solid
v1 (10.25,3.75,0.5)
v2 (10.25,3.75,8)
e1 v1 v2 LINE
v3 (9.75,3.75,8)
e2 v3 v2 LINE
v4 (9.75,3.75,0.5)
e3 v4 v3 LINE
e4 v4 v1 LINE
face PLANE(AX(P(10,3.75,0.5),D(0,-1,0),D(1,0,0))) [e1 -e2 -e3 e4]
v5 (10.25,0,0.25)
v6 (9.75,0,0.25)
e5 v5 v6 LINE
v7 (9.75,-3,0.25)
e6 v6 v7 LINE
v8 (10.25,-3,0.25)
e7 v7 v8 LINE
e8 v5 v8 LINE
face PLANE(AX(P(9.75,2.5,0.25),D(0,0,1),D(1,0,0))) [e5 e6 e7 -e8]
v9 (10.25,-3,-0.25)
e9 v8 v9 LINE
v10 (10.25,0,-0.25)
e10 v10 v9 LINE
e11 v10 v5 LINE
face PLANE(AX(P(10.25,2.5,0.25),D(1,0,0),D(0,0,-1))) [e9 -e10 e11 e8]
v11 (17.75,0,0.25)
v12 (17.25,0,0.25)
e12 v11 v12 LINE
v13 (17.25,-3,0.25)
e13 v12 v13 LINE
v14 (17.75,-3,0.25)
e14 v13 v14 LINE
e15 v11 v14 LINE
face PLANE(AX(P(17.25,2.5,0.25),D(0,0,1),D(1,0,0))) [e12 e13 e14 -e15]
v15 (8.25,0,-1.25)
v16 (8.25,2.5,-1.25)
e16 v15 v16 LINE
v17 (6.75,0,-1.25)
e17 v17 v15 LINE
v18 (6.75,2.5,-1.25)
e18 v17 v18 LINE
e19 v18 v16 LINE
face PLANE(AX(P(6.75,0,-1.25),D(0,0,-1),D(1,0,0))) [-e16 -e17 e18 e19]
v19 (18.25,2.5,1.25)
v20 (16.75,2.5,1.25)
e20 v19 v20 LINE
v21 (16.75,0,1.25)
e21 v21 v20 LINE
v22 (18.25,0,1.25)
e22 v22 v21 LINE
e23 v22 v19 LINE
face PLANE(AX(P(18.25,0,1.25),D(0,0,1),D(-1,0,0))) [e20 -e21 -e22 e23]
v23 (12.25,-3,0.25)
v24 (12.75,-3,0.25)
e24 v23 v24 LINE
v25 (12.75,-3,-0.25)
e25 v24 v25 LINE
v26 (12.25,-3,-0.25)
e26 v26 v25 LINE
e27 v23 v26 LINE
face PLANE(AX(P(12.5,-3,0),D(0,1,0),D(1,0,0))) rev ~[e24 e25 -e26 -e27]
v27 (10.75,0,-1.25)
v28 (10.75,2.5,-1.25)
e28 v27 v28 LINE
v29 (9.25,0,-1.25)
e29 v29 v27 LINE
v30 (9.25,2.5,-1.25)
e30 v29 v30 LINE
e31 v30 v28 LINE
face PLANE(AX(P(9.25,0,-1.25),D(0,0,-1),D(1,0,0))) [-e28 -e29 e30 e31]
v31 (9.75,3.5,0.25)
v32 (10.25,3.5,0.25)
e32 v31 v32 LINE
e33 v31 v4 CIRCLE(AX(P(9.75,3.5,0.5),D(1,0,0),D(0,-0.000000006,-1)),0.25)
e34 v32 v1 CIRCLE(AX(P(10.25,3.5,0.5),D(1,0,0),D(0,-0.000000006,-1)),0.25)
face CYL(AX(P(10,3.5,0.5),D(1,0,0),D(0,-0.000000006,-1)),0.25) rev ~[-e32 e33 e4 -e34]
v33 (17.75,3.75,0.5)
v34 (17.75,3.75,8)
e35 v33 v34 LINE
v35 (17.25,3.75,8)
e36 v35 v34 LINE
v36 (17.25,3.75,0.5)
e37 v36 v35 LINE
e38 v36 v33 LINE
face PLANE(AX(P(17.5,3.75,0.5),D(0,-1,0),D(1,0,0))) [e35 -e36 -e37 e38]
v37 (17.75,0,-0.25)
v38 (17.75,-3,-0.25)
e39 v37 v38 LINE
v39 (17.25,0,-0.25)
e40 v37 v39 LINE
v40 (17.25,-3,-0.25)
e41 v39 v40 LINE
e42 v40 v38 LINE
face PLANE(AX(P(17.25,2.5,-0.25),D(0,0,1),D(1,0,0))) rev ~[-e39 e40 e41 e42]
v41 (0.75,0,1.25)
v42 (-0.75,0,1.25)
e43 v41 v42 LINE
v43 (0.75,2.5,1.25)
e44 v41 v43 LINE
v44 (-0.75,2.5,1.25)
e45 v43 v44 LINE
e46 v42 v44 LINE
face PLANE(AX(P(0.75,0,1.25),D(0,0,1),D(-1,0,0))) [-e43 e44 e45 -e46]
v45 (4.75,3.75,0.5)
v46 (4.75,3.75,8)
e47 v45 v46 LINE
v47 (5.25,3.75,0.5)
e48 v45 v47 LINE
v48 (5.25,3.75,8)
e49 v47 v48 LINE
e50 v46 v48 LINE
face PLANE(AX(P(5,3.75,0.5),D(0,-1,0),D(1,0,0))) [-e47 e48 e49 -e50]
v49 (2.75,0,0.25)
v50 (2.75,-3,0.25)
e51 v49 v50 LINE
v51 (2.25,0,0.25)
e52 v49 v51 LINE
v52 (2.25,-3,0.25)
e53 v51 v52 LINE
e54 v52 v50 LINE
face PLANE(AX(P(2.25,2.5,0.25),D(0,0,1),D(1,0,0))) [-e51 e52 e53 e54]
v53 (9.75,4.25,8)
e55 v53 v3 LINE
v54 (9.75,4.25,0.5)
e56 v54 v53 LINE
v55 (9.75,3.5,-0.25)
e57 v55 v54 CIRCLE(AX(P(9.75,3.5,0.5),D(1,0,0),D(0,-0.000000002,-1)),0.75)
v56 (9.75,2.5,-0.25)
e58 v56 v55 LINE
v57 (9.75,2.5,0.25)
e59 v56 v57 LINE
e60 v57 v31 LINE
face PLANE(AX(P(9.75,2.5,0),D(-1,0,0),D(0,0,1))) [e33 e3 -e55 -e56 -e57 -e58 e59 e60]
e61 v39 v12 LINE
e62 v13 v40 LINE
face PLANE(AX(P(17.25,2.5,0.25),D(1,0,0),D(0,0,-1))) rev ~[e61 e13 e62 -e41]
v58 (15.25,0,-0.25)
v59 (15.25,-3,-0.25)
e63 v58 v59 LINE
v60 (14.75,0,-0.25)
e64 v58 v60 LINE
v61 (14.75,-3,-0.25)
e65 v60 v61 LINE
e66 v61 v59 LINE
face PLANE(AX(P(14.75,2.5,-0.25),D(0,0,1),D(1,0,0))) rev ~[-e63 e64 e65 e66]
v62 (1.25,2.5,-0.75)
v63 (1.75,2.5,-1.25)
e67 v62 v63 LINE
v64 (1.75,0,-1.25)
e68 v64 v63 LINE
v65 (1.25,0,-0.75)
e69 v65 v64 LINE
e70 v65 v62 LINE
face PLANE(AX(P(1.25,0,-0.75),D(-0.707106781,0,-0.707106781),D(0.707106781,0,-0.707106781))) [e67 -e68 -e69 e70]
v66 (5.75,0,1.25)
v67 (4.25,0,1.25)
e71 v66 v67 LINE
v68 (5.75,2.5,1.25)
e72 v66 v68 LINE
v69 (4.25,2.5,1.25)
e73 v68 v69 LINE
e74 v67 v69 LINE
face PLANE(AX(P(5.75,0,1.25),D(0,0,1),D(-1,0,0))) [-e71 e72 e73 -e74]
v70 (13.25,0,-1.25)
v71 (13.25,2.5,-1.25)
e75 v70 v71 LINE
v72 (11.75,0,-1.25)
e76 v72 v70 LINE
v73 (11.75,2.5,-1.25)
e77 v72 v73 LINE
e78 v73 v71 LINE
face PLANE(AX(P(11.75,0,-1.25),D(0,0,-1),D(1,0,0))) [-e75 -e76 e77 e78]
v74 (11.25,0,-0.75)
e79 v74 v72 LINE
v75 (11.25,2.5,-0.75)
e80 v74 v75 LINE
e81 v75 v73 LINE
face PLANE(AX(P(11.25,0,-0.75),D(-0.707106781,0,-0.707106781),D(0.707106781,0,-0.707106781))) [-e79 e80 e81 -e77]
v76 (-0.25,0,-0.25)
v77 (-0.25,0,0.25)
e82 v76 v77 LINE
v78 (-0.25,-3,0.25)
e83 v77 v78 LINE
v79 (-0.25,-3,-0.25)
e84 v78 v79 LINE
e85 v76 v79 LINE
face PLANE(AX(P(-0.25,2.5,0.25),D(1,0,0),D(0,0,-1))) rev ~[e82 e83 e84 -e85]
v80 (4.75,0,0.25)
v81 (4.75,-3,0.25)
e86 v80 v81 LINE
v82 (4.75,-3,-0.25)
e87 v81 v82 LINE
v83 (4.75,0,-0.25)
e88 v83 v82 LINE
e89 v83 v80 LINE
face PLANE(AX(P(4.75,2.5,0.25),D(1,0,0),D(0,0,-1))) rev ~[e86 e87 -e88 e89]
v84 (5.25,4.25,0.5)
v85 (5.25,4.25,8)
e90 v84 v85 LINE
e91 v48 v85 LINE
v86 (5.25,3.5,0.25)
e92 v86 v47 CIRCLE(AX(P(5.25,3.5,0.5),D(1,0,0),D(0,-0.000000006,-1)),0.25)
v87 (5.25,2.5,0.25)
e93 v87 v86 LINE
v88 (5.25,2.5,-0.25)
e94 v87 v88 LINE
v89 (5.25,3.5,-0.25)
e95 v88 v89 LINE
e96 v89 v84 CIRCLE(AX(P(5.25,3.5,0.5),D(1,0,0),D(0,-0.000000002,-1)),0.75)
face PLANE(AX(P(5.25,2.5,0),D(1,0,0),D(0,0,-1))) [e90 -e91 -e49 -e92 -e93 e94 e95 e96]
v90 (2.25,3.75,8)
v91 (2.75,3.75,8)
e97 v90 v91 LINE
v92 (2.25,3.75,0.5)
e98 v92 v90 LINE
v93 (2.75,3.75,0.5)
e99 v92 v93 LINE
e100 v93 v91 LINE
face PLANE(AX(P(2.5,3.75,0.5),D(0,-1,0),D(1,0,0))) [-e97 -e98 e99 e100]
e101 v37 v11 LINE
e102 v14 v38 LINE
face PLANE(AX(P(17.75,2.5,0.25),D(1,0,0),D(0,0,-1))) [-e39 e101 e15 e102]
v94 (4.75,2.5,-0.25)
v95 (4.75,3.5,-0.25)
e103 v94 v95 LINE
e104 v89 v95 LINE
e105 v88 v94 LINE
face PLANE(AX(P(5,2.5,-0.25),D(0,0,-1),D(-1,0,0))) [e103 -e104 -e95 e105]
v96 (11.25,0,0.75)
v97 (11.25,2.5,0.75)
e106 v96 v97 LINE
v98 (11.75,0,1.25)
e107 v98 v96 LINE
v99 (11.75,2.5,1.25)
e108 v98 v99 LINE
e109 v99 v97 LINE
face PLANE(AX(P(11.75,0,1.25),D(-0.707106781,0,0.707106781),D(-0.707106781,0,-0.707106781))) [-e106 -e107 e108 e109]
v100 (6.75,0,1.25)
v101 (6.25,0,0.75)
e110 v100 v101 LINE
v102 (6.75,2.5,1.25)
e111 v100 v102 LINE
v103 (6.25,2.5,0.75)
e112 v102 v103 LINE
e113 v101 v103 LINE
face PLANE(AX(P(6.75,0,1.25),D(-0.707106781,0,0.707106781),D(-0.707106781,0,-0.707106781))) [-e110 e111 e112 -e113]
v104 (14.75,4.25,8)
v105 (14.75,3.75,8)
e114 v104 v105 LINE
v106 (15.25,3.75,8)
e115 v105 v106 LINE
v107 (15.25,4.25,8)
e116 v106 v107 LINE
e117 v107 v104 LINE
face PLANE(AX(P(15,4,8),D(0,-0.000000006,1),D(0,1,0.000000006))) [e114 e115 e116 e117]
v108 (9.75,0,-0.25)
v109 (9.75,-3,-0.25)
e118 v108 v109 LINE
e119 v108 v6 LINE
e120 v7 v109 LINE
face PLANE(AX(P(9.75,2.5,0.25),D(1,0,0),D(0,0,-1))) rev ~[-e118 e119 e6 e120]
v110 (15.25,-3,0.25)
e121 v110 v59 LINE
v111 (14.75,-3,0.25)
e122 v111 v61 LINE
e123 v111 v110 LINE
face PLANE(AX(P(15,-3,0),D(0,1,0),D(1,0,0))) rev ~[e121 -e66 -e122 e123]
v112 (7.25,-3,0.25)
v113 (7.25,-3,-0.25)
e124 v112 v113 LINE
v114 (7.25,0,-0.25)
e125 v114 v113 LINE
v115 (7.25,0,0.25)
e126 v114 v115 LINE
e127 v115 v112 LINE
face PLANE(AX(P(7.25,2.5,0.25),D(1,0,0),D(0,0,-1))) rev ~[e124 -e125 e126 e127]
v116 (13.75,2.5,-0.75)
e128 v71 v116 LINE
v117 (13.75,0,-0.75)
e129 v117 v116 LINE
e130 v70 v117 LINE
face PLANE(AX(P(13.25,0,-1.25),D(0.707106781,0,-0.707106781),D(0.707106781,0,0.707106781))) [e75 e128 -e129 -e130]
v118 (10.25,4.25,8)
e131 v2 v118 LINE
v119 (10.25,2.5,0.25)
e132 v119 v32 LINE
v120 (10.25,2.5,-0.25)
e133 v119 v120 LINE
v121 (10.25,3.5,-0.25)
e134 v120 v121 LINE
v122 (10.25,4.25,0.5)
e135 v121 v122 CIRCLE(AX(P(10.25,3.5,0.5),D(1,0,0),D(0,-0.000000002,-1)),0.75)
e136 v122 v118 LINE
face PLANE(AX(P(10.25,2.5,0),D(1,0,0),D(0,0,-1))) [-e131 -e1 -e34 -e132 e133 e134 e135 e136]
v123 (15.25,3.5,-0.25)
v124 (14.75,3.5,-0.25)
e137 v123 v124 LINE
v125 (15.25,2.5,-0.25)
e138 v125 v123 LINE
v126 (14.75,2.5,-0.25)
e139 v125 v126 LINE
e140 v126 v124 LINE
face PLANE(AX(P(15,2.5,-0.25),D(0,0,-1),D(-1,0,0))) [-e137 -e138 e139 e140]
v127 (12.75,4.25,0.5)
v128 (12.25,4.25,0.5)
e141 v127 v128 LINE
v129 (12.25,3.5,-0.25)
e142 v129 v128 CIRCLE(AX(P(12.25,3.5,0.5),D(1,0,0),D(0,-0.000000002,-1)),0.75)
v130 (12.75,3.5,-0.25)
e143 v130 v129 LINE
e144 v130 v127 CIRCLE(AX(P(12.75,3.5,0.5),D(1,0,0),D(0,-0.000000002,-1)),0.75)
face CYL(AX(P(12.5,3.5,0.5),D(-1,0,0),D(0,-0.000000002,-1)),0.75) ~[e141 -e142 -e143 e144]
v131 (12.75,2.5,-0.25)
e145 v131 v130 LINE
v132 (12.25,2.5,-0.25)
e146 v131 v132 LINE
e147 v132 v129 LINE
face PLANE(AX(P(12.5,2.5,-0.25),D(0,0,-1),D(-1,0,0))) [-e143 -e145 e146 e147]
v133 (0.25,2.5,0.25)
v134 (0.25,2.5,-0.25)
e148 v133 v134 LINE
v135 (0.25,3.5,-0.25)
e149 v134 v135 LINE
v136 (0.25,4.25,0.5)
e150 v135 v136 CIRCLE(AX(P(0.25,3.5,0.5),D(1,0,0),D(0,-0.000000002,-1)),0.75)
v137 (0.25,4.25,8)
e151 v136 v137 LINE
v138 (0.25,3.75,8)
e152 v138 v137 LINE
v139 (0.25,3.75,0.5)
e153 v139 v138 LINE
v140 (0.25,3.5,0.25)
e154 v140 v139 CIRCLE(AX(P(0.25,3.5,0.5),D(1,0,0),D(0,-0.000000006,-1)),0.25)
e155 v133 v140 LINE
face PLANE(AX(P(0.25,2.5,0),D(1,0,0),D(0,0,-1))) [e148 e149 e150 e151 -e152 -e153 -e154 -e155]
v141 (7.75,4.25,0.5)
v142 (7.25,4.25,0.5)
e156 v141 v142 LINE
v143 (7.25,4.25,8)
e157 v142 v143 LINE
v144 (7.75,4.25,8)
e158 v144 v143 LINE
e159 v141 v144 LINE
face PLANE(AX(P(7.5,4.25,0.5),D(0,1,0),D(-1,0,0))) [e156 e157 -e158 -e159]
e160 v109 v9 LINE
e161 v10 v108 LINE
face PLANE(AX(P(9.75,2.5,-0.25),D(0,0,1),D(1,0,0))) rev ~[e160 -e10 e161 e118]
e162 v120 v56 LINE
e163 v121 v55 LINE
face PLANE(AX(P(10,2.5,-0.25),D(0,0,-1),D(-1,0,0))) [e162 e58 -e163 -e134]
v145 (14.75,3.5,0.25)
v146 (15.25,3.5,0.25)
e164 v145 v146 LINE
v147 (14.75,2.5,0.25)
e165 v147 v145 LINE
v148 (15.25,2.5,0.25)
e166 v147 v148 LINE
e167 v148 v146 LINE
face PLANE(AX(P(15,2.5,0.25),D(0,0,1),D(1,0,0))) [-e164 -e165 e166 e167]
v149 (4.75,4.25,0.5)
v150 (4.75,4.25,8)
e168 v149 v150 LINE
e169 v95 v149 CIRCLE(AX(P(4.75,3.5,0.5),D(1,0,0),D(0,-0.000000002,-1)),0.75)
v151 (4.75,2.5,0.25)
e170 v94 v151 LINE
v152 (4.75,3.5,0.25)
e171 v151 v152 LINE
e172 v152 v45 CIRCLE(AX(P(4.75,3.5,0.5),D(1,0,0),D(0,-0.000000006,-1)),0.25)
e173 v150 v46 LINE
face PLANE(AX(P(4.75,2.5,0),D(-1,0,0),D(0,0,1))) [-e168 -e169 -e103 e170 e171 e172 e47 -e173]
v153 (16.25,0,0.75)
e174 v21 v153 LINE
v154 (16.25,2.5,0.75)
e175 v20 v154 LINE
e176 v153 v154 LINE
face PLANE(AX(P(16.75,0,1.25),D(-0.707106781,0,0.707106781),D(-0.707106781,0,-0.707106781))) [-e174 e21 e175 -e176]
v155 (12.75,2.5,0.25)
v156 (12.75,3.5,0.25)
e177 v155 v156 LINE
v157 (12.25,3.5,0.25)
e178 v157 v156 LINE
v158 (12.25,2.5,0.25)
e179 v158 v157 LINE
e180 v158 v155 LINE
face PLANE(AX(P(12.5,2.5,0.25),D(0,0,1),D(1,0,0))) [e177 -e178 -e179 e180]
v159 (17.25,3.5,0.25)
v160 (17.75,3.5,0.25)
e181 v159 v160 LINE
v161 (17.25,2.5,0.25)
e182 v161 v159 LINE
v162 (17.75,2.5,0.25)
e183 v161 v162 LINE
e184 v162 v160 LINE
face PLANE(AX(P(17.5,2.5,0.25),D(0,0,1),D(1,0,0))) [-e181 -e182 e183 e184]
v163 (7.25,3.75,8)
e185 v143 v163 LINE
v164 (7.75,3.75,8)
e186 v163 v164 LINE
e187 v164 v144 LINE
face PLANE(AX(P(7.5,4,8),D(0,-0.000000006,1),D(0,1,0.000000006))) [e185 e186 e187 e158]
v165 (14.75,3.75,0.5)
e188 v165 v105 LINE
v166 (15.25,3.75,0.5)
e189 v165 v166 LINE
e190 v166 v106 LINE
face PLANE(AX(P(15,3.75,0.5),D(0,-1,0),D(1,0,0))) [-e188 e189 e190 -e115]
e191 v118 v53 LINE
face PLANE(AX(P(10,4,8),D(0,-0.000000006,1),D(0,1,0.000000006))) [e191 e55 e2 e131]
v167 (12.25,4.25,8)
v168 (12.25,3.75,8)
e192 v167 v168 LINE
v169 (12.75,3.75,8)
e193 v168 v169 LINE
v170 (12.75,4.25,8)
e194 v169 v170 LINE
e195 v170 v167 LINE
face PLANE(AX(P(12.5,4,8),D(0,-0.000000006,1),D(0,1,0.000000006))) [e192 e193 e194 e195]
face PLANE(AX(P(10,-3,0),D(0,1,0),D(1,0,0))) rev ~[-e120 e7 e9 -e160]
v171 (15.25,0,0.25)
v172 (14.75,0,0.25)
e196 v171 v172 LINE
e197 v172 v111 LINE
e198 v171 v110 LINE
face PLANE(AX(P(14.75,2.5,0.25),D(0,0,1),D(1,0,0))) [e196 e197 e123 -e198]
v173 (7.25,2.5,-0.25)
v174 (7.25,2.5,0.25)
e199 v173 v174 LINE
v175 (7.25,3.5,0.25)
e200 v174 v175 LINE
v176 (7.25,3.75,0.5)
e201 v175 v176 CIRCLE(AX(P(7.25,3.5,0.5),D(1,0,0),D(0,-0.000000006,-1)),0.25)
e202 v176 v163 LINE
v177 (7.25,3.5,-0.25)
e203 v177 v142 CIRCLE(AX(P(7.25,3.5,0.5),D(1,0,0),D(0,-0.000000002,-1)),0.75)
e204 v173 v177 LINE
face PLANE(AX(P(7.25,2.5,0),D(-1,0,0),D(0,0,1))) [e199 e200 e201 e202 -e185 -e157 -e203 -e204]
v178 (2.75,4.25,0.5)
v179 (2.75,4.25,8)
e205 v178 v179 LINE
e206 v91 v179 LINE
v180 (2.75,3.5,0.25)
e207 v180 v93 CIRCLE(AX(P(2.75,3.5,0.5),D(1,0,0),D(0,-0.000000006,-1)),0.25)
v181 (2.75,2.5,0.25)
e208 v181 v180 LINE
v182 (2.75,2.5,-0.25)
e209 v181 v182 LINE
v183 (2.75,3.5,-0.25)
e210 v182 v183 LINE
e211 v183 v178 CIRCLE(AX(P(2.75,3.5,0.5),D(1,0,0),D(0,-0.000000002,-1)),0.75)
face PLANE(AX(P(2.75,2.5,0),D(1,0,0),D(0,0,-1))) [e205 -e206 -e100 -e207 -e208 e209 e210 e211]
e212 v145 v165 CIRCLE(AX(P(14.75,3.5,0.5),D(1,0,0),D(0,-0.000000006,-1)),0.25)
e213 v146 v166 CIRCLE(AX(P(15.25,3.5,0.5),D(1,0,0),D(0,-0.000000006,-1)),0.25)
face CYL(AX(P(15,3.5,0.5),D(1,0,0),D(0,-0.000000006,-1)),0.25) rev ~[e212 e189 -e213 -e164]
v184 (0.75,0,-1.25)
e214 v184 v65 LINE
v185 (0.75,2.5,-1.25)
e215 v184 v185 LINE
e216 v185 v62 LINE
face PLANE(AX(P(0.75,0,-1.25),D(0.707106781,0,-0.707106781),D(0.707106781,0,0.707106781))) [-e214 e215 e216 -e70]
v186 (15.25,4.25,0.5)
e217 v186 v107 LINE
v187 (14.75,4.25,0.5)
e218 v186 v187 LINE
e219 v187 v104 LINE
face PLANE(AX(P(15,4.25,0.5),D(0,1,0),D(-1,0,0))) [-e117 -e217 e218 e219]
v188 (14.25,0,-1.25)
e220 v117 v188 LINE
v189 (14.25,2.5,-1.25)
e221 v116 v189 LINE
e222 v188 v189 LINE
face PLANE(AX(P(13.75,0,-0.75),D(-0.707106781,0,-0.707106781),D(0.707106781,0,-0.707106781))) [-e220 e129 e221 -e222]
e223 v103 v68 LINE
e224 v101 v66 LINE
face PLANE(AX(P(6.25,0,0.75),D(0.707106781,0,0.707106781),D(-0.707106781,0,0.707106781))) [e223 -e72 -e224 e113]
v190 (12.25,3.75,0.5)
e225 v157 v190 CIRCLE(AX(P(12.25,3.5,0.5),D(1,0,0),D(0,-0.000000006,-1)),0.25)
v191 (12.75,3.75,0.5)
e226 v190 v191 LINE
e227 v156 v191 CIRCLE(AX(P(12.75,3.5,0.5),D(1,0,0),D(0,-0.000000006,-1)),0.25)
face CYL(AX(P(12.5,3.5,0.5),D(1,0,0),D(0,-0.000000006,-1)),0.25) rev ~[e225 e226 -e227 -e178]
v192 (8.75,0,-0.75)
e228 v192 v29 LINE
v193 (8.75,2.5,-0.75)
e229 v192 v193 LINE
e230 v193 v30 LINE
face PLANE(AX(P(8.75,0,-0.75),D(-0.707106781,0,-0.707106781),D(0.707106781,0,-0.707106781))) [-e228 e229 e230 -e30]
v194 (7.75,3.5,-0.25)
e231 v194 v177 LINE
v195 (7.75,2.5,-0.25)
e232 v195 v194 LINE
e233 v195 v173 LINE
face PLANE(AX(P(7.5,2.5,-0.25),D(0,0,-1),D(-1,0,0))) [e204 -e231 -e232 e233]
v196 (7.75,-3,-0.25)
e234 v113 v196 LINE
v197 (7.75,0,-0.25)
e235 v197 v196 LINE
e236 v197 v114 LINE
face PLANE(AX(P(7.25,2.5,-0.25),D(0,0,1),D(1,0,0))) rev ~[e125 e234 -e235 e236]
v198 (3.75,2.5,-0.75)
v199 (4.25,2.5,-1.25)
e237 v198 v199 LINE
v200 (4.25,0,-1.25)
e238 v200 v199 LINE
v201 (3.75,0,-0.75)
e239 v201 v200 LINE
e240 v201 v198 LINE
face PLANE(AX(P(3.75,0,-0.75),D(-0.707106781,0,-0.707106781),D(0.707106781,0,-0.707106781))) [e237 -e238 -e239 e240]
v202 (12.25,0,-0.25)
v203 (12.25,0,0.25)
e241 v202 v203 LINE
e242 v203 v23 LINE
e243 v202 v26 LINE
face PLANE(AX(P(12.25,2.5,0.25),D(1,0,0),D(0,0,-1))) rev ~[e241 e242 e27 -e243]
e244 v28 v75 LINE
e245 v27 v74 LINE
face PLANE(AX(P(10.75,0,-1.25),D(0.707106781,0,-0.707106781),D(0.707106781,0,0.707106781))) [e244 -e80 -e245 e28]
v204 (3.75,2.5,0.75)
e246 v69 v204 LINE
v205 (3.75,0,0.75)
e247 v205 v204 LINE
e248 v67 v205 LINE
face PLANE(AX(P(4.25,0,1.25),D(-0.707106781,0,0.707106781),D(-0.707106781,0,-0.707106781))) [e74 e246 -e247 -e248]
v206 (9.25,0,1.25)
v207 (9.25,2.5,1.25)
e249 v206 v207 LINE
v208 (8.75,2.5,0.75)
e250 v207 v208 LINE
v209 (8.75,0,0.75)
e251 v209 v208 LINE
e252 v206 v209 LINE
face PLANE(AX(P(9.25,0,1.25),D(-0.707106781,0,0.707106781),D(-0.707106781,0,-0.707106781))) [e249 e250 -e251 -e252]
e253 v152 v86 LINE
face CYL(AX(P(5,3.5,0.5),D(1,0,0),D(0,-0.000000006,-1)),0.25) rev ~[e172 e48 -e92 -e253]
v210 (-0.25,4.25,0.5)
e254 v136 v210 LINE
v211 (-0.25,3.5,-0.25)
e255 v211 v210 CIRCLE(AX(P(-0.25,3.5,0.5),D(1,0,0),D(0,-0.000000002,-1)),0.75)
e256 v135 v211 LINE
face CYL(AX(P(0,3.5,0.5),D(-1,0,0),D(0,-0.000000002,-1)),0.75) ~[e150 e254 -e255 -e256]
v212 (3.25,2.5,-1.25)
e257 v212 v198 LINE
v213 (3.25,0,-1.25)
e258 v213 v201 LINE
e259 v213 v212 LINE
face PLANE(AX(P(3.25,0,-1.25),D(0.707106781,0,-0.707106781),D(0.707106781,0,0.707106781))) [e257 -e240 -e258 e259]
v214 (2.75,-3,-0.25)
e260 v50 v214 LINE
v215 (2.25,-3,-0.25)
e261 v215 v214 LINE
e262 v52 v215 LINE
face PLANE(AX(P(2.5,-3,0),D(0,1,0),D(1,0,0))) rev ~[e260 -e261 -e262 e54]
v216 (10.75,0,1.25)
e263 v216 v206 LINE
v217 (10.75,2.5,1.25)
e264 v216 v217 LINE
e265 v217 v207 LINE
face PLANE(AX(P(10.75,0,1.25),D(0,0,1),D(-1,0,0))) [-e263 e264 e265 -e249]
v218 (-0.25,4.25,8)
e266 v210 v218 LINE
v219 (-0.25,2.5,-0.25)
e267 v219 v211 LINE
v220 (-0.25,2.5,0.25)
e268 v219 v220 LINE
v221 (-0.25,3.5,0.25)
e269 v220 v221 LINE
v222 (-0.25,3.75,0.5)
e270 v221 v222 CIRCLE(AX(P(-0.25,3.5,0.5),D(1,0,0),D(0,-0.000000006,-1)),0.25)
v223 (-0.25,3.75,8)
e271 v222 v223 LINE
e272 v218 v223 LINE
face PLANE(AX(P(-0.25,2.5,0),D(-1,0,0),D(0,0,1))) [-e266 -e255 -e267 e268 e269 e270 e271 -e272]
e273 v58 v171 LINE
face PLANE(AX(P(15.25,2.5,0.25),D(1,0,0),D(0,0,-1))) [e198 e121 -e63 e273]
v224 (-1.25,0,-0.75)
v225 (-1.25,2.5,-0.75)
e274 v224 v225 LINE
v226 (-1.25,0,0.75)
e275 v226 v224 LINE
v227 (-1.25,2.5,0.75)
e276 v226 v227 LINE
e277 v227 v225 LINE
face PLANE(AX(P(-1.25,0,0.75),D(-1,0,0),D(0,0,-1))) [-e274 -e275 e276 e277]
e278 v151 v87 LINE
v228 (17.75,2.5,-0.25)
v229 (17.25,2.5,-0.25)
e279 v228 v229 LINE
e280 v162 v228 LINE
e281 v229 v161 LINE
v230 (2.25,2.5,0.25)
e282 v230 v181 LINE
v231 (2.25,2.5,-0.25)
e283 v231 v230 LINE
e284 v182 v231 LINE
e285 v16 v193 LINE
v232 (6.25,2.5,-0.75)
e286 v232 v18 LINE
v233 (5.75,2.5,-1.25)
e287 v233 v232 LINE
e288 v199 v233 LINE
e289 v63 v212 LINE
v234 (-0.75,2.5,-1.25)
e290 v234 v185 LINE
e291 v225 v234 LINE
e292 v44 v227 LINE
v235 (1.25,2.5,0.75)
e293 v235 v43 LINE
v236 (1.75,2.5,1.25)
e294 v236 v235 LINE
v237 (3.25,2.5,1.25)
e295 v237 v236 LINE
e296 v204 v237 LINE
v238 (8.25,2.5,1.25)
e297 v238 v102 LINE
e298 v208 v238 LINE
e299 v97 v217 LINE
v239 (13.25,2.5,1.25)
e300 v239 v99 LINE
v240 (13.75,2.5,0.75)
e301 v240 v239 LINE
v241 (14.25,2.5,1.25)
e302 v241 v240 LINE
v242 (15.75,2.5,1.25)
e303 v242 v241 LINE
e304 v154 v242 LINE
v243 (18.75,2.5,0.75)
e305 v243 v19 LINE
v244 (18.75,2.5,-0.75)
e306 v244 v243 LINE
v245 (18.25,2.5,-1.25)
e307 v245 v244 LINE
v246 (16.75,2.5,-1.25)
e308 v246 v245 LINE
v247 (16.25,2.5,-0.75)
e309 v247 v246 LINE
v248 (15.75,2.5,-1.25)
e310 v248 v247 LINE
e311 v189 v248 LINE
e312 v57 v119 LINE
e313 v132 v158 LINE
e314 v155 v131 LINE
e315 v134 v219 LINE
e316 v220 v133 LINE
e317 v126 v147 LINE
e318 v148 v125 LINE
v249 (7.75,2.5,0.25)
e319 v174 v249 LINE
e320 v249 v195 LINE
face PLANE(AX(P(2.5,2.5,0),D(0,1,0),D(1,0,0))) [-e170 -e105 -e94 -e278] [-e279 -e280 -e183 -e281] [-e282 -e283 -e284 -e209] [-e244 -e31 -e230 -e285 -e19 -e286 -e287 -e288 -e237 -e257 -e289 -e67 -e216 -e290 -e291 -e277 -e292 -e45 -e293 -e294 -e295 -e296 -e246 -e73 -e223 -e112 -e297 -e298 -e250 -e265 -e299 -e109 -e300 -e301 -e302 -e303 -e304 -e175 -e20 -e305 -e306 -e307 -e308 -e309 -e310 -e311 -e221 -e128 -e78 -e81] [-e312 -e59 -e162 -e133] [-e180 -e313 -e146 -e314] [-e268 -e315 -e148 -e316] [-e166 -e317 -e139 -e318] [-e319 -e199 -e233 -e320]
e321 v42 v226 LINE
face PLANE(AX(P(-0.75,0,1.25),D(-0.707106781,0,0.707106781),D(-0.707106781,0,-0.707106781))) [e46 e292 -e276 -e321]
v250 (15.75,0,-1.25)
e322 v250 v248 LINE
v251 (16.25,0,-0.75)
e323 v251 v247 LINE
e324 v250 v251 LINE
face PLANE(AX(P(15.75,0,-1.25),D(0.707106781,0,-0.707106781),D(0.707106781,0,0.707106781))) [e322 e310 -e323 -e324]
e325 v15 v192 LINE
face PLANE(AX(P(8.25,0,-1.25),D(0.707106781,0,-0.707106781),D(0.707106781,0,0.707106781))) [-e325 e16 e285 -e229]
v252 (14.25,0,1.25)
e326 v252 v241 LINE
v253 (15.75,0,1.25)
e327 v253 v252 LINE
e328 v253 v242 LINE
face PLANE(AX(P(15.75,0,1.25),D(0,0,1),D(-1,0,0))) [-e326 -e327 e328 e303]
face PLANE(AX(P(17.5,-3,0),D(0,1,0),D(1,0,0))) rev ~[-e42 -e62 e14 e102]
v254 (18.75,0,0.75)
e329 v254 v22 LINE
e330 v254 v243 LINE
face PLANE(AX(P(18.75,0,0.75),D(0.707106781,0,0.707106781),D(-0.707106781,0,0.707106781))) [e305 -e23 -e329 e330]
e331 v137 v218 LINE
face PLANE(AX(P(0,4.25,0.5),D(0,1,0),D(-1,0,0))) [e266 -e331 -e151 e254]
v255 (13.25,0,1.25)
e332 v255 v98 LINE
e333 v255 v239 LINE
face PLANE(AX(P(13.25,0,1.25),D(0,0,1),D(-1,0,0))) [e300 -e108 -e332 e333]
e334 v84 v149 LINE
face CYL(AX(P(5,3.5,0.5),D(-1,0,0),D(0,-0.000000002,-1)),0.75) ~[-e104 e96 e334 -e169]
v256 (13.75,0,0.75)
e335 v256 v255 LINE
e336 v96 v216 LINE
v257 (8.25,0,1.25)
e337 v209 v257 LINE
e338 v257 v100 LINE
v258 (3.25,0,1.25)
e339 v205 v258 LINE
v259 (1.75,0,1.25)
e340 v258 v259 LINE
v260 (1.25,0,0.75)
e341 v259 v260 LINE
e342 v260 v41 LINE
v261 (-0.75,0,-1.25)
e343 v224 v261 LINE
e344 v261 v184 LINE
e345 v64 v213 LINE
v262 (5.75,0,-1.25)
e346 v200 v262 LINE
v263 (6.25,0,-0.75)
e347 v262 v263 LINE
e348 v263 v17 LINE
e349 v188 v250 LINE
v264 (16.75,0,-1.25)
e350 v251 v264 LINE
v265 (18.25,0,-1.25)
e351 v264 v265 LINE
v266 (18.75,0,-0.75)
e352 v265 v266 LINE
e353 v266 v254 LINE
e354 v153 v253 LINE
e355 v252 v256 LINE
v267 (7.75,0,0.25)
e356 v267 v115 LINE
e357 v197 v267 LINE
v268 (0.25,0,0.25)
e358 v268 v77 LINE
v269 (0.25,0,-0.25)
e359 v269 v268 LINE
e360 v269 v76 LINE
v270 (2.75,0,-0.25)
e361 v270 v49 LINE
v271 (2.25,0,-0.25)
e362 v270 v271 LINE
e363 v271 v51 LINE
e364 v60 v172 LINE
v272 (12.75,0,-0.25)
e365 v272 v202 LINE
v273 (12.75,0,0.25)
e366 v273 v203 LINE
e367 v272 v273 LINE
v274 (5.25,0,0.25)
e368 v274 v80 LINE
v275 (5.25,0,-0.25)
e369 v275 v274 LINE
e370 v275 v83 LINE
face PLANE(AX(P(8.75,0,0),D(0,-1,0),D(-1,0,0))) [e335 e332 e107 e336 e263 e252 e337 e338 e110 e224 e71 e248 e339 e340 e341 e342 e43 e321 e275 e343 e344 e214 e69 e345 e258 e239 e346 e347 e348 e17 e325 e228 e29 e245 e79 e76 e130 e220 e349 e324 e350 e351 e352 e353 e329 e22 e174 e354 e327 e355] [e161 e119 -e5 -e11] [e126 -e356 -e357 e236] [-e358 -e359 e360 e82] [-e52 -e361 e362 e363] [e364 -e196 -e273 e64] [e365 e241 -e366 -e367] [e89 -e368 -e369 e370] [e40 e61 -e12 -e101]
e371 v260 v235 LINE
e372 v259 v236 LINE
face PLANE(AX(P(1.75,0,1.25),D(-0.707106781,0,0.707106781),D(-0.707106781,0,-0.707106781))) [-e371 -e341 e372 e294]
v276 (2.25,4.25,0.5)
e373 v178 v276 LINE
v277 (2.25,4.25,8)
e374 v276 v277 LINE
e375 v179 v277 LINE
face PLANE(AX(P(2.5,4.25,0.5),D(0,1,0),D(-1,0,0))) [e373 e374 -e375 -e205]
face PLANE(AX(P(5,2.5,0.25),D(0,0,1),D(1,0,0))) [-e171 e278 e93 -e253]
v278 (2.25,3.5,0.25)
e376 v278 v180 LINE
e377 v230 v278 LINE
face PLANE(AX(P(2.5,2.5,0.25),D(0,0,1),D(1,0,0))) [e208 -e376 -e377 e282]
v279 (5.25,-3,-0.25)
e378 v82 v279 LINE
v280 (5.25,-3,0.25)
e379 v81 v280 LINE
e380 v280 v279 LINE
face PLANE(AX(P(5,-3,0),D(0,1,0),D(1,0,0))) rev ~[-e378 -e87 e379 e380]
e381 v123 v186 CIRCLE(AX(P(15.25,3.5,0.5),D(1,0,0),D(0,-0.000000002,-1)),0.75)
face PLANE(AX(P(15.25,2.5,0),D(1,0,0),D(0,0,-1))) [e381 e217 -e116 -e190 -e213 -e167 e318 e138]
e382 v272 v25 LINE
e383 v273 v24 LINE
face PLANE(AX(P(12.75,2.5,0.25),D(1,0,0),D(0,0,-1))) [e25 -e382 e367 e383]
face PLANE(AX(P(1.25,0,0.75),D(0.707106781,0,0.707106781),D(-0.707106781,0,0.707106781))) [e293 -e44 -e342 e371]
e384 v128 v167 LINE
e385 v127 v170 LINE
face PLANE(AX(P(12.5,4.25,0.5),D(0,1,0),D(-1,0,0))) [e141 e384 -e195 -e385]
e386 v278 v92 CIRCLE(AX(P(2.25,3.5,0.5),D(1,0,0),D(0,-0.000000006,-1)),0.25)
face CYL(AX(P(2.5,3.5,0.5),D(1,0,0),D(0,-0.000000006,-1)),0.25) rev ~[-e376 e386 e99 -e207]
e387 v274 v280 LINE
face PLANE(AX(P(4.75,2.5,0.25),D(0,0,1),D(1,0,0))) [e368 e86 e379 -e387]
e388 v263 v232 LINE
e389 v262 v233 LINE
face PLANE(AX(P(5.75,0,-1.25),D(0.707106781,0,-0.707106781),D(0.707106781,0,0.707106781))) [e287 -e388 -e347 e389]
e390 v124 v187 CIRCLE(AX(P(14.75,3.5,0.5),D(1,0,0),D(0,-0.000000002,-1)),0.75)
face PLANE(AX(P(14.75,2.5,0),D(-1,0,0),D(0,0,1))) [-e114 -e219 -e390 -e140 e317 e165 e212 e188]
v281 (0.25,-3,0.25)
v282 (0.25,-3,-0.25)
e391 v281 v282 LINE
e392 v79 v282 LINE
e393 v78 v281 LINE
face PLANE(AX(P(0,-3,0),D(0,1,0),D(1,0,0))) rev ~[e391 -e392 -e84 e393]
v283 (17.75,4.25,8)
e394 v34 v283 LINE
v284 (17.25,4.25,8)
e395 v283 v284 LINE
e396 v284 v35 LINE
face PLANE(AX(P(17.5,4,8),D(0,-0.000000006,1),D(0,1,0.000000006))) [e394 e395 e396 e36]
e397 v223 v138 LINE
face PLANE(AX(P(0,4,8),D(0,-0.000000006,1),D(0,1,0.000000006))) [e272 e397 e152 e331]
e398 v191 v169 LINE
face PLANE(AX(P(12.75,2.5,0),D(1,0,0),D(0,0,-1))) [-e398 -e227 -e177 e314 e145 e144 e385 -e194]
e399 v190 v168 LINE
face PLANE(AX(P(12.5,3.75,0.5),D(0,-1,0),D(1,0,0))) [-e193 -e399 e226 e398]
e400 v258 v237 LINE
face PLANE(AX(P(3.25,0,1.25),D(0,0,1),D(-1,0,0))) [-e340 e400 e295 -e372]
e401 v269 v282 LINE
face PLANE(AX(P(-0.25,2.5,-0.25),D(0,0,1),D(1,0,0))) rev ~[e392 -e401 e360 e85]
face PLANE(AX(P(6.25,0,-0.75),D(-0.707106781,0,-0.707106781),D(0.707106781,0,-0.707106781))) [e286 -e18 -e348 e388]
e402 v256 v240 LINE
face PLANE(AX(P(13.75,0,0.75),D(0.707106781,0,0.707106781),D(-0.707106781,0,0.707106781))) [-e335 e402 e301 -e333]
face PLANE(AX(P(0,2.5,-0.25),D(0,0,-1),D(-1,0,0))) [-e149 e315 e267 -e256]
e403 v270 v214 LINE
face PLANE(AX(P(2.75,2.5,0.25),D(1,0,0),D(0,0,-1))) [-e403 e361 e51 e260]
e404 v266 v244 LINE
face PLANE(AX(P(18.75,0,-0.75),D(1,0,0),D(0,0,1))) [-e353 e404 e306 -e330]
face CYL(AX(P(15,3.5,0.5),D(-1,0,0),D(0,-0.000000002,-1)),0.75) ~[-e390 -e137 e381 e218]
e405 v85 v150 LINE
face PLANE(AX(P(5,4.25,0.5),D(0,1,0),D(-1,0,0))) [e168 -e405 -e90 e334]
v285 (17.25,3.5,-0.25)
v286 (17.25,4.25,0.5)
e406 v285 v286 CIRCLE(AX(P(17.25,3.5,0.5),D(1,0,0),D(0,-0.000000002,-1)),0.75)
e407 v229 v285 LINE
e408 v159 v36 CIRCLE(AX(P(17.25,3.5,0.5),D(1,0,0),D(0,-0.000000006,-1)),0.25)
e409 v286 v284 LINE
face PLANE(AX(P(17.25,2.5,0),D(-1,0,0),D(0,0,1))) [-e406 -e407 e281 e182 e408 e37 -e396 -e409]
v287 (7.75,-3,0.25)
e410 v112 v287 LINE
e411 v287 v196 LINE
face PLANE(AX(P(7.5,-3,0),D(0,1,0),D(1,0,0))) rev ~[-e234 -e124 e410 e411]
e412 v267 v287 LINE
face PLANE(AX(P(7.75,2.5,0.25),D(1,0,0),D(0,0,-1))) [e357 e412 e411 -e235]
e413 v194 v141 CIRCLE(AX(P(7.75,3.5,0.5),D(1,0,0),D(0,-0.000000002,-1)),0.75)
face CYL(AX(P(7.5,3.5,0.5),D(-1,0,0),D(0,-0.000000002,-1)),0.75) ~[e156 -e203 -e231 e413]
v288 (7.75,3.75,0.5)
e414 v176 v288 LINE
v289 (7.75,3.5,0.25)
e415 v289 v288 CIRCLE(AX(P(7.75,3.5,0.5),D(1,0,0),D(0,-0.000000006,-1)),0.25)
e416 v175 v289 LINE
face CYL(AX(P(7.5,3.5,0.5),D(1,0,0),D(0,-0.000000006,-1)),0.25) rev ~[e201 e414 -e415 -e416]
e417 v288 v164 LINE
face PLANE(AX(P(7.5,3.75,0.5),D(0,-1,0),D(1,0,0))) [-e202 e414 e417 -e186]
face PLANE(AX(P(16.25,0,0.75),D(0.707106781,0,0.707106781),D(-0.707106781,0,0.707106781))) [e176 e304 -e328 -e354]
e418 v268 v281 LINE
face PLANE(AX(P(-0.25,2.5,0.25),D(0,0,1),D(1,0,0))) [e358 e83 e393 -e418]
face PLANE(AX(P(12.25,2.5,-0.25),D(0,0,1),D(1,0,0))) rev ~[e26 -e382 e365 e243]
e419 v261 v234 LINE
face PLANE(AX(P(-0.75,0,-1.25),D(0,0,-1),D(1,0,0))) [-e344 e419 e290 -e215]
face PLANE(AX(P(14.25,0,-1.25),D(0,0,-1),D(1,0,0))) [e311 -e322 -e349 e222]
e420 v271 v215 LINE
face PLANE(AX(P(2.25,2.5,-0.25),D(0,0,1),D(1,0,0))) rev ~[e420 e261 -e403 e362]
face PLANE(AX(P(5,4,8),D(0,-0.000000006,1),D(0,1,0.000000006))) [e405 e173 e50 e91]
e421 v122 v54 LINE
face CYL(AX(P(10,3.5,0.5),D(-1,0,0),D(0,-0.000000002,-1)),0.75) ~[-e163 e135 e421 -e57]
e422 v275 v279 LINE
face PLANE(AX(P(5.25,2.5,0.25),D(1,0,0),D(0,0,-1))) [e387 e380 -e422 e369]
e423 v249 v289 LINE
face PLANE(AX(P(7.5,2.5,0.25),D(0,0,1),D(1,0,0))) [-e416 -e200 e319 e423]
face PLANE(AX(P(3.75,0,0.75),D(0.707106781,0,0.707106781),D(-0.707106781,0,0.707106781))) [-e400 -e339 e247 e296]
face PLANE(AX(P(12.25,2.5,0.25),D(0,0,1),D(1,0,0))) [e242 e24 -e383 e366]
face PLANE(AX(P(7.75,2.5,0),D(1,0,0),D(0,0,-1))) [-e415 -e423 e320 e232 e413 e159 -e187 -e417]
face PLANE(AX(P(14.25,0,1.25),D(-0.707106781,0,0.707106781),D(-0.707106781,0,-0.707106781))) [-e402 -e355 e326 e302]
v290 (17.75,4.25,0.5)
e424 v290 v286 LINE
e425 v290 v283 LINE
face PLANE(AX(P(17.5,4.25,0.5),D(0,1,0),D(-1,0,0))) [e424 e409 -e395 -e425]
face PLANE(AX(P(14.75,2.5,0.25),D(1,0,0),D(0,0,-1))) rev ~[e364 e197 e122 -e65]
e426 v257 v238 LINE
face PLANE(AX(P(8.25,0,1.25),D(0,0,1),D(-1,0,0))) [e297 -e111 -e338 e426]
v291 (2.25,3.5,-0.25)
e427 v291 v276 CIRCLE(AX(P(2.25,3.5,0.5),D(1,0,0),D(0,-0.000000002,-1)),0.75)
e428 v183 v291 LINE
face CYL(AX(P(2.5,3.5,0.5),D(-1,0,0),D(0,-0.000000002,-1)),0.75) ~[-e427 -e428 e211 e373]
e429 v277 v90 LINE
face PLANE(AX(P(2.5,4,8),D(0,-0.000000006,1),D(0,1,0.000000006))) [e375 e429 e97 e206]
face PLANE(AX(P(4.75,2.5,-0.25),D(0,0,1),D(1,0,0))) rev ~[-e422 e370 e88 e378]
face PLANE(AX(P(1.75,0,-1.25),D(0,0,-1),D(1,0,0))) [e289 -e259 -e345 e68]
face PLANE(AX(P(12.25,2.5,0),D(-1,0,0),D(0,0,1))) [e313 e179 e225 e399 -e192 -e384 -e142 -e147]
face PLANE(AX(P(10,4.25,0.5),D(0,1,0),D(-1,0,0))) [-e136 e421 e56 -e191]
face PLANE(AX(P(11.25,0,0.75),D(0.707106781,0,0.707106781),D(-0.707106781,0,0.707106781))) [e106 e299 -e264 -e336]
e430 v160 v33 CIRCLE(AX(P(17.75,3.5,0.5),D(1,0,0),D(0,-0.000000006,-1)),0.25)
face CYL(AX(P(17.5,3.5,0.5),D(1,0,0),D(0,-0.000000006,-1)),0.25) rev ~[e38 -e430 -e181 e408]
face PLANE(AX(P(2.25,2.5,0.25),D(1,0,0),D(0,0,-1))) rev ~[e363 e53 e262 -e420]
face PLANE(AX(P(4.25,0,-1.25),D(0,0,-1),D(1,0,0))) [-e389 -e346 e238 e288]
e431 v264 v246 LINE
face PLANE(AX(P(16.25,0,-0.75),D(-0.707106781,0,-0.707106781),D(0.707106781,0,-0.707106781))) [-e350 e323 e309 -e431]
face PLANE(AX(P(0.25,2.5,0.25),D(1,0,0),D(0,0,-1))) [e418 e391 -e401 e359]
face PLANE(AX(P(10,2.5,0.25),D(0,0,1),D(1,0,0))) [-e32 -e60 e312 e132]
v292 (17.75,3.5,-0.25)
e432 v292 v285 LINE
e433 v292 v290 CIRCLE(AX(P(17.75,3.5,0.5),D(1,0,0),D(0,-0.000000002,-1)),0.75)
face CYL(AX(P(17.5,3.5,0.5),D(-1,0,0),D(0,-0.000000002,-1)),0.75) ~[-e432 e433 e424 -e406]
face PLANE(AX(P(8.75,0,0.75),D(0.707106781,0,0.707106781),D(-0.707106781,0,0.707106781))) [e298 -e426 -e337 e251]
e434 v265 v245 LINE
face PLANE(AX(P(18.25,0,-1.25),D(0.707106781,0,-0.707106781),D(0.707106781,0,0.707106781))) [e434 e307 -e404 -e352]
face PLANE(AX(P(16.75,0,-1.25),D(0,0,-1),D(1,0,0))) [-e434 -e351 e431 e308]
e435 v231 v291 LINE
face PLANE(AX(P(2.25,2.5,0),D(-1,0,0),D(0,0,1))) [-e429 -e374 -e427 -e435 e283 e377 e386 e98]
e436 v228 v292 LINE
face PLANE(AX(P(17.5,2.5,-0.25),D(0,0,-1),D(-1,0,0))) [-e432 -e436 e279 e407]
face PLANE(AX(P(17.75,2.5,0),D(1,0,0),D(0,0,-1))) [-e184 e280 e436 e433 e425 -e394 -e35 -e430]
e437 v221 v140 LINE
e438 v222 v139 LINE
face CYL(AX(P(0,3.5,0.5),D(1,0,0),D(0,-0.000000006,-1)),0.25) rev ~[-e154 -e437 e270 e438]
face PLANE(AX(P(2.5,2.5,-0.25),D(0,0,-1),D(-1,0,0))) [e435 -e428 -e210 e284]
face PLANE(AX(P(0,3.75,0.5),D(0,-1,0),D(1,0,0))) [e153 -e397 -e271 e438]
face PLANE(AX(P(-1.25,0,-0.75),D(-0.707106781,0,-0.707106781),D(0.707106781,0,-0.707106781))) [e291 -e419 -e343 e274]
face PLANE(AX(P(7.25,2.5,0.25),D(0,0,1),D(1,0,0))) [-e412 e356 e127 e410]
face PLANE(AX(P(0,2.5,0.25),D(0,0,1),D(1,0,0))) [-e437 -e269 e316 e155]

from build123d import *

# Parameters (mm, degrees)
BOSS_EXTRUDE1_DEPTH = 2.5
SKETCH2_W           = 0.5
SKETCH2_H           = 0.5
BOSS_EXTRUDE3_DEPTH = 5.5
SKETCH2_3_W         = 0.5
SKETCH2_3_H         = 0.5


with BuildPart() as part:
    # Sketch1 → Boss-Extrude1 (new body)
    with BuildSketch(Plane(origin=(0, 0, 0), x_dir=(1, 0, 0), z_dir=(0, 1, 0))):
        Polygon((-1.25, 0.75), (-0.75, 1.25), (0.75, 1.25), (1.25, 0.75), (1.75, 1.25), (3.25, 1.25), (3.75, 0.75), (4.25, 1.25), (5.75, 1.25), (6.25, 0.75), (6.75, 1.25), (8.25, 1.25), (8.75, 0.75), (9.25, 1.25), (10.75, 1.25), (11.25, 0.75), (11.75, 1.25), (13.25, 1.25), (13.75, 0.75), (14.25, 1.25), (15.75, 1.25), (16.25, 0.75), (16.75, 1.25), (18.25, 1.25), (18.75, 0.75), (18.75, -0.75), (18.25, -1.25), (16.75, -1.25), (16.25, -0.75), (15.75, -1.25), (14.25, -1.25), (13.75, -0.75), (13.25, -1.25), (11.75, -1.25), (11.25, -0.75), (10.75, -1.25), (9.25, -1.25), (8.75, -0.75), (8.25, -1.25), (6.75, -1.25), (6.25, -0.75), (5.75, -1.25), (4.25, -1.25), (3.75, -0.75), (3.25, -1.25), (1.75, -1.25), (1.25, -0.75), (0.75, -1.25), (-0.75, -1.25), (-1.25, -0.75), align=None)
    extrude(amount=BOSS_EXTRUDE1_DEPTH)

    # Sketch2 → Boss-Extrude3 (add)
    with BuildSketch(Plane(origin=(0, 2.5, 0), x_dir=(1, 0, 0), z_dir=(0, 1, 0))):
        with Locations((2.5, 0)):
            Rectangle(SKETCH2_W, SKETCH2_H)
        Rectangle(SKETCH2_W, SKETCH2_H)
        with Locations((5, 0)):
            Rectangle(SKETCH2_W, SKETCH2_H)
        with Locations((7.5, 0)):
            Rectangle(SKETCH2_W, SKETCH2_H)
        with Locations((10, 0)):
            Rectangle(SKETCH2_W, SKETCH2_H)
        with Locations((12.5, 0)):
            Rectangle(SKETCH2_W, SKETCH2_H)
        with Locations((15, 0)):
            Rectangle(SKETCH2_W, SKETCH2_H)
        with Locations((17.5, 0)):
            Rectangle(SKETCH2_W, SKETCH2_H)
    extrude(amount=-BOSS_EXTRUDE3_DEPTH)

    # Sweep1: sweep along a path in Sketch3
    with BuildLine(Plane(origin=(0, 0, 0), x_dir=(0, 0, -1), z_dir=(1, 0, 0))) as sweep1_path:
        Line((0, 2.5), (0, 3.5))
        ThreePointArc((0, 3.5), (-0.146446609, 3.853553391), (-0.5, 4))
        Line((-0.5, 4), (-8, 4))
    # Sketch2<3> → Sweep1 (sweep)
    with BuildSketch(Plane(origin=(0, 2.5, 0), x_dir=(1, 0, 0), z_dir=(0, 1, 0))):
        with Locations((2.5, 0)):
            Rectangle(SKETCH2_3_W, SKETCH2_3_H)
        Rectangle(SKETCH2_3_W, SKETCH2_3_H)
        with Locations((5, 0)):
            Rectangle(SKETCH2_3_W, SKETCH2_3_H)
        with Locations((7.5, 0)):
            Rectangle(SKETCH2_3_W, SKETCH2_3_H)
        with Locations((10, 0)):
            Rectangle(SKETCH2_3_W, SKETCH2_3_H)
        with Locations((12.5, 0)):
            Rectangle(SKETCH2_3_W, SKETCH2_3_H)
        with Locations((15, 0)):
            Rectangle(SKETCH2_3_W, SKETCH2_3_H)
        with Locations((17.5, 0)):
            Rectangle(SKETCH2_3_W, SKETCH2_3_H)
    sweep(path=sweep1_path.line)


solid = part.part
